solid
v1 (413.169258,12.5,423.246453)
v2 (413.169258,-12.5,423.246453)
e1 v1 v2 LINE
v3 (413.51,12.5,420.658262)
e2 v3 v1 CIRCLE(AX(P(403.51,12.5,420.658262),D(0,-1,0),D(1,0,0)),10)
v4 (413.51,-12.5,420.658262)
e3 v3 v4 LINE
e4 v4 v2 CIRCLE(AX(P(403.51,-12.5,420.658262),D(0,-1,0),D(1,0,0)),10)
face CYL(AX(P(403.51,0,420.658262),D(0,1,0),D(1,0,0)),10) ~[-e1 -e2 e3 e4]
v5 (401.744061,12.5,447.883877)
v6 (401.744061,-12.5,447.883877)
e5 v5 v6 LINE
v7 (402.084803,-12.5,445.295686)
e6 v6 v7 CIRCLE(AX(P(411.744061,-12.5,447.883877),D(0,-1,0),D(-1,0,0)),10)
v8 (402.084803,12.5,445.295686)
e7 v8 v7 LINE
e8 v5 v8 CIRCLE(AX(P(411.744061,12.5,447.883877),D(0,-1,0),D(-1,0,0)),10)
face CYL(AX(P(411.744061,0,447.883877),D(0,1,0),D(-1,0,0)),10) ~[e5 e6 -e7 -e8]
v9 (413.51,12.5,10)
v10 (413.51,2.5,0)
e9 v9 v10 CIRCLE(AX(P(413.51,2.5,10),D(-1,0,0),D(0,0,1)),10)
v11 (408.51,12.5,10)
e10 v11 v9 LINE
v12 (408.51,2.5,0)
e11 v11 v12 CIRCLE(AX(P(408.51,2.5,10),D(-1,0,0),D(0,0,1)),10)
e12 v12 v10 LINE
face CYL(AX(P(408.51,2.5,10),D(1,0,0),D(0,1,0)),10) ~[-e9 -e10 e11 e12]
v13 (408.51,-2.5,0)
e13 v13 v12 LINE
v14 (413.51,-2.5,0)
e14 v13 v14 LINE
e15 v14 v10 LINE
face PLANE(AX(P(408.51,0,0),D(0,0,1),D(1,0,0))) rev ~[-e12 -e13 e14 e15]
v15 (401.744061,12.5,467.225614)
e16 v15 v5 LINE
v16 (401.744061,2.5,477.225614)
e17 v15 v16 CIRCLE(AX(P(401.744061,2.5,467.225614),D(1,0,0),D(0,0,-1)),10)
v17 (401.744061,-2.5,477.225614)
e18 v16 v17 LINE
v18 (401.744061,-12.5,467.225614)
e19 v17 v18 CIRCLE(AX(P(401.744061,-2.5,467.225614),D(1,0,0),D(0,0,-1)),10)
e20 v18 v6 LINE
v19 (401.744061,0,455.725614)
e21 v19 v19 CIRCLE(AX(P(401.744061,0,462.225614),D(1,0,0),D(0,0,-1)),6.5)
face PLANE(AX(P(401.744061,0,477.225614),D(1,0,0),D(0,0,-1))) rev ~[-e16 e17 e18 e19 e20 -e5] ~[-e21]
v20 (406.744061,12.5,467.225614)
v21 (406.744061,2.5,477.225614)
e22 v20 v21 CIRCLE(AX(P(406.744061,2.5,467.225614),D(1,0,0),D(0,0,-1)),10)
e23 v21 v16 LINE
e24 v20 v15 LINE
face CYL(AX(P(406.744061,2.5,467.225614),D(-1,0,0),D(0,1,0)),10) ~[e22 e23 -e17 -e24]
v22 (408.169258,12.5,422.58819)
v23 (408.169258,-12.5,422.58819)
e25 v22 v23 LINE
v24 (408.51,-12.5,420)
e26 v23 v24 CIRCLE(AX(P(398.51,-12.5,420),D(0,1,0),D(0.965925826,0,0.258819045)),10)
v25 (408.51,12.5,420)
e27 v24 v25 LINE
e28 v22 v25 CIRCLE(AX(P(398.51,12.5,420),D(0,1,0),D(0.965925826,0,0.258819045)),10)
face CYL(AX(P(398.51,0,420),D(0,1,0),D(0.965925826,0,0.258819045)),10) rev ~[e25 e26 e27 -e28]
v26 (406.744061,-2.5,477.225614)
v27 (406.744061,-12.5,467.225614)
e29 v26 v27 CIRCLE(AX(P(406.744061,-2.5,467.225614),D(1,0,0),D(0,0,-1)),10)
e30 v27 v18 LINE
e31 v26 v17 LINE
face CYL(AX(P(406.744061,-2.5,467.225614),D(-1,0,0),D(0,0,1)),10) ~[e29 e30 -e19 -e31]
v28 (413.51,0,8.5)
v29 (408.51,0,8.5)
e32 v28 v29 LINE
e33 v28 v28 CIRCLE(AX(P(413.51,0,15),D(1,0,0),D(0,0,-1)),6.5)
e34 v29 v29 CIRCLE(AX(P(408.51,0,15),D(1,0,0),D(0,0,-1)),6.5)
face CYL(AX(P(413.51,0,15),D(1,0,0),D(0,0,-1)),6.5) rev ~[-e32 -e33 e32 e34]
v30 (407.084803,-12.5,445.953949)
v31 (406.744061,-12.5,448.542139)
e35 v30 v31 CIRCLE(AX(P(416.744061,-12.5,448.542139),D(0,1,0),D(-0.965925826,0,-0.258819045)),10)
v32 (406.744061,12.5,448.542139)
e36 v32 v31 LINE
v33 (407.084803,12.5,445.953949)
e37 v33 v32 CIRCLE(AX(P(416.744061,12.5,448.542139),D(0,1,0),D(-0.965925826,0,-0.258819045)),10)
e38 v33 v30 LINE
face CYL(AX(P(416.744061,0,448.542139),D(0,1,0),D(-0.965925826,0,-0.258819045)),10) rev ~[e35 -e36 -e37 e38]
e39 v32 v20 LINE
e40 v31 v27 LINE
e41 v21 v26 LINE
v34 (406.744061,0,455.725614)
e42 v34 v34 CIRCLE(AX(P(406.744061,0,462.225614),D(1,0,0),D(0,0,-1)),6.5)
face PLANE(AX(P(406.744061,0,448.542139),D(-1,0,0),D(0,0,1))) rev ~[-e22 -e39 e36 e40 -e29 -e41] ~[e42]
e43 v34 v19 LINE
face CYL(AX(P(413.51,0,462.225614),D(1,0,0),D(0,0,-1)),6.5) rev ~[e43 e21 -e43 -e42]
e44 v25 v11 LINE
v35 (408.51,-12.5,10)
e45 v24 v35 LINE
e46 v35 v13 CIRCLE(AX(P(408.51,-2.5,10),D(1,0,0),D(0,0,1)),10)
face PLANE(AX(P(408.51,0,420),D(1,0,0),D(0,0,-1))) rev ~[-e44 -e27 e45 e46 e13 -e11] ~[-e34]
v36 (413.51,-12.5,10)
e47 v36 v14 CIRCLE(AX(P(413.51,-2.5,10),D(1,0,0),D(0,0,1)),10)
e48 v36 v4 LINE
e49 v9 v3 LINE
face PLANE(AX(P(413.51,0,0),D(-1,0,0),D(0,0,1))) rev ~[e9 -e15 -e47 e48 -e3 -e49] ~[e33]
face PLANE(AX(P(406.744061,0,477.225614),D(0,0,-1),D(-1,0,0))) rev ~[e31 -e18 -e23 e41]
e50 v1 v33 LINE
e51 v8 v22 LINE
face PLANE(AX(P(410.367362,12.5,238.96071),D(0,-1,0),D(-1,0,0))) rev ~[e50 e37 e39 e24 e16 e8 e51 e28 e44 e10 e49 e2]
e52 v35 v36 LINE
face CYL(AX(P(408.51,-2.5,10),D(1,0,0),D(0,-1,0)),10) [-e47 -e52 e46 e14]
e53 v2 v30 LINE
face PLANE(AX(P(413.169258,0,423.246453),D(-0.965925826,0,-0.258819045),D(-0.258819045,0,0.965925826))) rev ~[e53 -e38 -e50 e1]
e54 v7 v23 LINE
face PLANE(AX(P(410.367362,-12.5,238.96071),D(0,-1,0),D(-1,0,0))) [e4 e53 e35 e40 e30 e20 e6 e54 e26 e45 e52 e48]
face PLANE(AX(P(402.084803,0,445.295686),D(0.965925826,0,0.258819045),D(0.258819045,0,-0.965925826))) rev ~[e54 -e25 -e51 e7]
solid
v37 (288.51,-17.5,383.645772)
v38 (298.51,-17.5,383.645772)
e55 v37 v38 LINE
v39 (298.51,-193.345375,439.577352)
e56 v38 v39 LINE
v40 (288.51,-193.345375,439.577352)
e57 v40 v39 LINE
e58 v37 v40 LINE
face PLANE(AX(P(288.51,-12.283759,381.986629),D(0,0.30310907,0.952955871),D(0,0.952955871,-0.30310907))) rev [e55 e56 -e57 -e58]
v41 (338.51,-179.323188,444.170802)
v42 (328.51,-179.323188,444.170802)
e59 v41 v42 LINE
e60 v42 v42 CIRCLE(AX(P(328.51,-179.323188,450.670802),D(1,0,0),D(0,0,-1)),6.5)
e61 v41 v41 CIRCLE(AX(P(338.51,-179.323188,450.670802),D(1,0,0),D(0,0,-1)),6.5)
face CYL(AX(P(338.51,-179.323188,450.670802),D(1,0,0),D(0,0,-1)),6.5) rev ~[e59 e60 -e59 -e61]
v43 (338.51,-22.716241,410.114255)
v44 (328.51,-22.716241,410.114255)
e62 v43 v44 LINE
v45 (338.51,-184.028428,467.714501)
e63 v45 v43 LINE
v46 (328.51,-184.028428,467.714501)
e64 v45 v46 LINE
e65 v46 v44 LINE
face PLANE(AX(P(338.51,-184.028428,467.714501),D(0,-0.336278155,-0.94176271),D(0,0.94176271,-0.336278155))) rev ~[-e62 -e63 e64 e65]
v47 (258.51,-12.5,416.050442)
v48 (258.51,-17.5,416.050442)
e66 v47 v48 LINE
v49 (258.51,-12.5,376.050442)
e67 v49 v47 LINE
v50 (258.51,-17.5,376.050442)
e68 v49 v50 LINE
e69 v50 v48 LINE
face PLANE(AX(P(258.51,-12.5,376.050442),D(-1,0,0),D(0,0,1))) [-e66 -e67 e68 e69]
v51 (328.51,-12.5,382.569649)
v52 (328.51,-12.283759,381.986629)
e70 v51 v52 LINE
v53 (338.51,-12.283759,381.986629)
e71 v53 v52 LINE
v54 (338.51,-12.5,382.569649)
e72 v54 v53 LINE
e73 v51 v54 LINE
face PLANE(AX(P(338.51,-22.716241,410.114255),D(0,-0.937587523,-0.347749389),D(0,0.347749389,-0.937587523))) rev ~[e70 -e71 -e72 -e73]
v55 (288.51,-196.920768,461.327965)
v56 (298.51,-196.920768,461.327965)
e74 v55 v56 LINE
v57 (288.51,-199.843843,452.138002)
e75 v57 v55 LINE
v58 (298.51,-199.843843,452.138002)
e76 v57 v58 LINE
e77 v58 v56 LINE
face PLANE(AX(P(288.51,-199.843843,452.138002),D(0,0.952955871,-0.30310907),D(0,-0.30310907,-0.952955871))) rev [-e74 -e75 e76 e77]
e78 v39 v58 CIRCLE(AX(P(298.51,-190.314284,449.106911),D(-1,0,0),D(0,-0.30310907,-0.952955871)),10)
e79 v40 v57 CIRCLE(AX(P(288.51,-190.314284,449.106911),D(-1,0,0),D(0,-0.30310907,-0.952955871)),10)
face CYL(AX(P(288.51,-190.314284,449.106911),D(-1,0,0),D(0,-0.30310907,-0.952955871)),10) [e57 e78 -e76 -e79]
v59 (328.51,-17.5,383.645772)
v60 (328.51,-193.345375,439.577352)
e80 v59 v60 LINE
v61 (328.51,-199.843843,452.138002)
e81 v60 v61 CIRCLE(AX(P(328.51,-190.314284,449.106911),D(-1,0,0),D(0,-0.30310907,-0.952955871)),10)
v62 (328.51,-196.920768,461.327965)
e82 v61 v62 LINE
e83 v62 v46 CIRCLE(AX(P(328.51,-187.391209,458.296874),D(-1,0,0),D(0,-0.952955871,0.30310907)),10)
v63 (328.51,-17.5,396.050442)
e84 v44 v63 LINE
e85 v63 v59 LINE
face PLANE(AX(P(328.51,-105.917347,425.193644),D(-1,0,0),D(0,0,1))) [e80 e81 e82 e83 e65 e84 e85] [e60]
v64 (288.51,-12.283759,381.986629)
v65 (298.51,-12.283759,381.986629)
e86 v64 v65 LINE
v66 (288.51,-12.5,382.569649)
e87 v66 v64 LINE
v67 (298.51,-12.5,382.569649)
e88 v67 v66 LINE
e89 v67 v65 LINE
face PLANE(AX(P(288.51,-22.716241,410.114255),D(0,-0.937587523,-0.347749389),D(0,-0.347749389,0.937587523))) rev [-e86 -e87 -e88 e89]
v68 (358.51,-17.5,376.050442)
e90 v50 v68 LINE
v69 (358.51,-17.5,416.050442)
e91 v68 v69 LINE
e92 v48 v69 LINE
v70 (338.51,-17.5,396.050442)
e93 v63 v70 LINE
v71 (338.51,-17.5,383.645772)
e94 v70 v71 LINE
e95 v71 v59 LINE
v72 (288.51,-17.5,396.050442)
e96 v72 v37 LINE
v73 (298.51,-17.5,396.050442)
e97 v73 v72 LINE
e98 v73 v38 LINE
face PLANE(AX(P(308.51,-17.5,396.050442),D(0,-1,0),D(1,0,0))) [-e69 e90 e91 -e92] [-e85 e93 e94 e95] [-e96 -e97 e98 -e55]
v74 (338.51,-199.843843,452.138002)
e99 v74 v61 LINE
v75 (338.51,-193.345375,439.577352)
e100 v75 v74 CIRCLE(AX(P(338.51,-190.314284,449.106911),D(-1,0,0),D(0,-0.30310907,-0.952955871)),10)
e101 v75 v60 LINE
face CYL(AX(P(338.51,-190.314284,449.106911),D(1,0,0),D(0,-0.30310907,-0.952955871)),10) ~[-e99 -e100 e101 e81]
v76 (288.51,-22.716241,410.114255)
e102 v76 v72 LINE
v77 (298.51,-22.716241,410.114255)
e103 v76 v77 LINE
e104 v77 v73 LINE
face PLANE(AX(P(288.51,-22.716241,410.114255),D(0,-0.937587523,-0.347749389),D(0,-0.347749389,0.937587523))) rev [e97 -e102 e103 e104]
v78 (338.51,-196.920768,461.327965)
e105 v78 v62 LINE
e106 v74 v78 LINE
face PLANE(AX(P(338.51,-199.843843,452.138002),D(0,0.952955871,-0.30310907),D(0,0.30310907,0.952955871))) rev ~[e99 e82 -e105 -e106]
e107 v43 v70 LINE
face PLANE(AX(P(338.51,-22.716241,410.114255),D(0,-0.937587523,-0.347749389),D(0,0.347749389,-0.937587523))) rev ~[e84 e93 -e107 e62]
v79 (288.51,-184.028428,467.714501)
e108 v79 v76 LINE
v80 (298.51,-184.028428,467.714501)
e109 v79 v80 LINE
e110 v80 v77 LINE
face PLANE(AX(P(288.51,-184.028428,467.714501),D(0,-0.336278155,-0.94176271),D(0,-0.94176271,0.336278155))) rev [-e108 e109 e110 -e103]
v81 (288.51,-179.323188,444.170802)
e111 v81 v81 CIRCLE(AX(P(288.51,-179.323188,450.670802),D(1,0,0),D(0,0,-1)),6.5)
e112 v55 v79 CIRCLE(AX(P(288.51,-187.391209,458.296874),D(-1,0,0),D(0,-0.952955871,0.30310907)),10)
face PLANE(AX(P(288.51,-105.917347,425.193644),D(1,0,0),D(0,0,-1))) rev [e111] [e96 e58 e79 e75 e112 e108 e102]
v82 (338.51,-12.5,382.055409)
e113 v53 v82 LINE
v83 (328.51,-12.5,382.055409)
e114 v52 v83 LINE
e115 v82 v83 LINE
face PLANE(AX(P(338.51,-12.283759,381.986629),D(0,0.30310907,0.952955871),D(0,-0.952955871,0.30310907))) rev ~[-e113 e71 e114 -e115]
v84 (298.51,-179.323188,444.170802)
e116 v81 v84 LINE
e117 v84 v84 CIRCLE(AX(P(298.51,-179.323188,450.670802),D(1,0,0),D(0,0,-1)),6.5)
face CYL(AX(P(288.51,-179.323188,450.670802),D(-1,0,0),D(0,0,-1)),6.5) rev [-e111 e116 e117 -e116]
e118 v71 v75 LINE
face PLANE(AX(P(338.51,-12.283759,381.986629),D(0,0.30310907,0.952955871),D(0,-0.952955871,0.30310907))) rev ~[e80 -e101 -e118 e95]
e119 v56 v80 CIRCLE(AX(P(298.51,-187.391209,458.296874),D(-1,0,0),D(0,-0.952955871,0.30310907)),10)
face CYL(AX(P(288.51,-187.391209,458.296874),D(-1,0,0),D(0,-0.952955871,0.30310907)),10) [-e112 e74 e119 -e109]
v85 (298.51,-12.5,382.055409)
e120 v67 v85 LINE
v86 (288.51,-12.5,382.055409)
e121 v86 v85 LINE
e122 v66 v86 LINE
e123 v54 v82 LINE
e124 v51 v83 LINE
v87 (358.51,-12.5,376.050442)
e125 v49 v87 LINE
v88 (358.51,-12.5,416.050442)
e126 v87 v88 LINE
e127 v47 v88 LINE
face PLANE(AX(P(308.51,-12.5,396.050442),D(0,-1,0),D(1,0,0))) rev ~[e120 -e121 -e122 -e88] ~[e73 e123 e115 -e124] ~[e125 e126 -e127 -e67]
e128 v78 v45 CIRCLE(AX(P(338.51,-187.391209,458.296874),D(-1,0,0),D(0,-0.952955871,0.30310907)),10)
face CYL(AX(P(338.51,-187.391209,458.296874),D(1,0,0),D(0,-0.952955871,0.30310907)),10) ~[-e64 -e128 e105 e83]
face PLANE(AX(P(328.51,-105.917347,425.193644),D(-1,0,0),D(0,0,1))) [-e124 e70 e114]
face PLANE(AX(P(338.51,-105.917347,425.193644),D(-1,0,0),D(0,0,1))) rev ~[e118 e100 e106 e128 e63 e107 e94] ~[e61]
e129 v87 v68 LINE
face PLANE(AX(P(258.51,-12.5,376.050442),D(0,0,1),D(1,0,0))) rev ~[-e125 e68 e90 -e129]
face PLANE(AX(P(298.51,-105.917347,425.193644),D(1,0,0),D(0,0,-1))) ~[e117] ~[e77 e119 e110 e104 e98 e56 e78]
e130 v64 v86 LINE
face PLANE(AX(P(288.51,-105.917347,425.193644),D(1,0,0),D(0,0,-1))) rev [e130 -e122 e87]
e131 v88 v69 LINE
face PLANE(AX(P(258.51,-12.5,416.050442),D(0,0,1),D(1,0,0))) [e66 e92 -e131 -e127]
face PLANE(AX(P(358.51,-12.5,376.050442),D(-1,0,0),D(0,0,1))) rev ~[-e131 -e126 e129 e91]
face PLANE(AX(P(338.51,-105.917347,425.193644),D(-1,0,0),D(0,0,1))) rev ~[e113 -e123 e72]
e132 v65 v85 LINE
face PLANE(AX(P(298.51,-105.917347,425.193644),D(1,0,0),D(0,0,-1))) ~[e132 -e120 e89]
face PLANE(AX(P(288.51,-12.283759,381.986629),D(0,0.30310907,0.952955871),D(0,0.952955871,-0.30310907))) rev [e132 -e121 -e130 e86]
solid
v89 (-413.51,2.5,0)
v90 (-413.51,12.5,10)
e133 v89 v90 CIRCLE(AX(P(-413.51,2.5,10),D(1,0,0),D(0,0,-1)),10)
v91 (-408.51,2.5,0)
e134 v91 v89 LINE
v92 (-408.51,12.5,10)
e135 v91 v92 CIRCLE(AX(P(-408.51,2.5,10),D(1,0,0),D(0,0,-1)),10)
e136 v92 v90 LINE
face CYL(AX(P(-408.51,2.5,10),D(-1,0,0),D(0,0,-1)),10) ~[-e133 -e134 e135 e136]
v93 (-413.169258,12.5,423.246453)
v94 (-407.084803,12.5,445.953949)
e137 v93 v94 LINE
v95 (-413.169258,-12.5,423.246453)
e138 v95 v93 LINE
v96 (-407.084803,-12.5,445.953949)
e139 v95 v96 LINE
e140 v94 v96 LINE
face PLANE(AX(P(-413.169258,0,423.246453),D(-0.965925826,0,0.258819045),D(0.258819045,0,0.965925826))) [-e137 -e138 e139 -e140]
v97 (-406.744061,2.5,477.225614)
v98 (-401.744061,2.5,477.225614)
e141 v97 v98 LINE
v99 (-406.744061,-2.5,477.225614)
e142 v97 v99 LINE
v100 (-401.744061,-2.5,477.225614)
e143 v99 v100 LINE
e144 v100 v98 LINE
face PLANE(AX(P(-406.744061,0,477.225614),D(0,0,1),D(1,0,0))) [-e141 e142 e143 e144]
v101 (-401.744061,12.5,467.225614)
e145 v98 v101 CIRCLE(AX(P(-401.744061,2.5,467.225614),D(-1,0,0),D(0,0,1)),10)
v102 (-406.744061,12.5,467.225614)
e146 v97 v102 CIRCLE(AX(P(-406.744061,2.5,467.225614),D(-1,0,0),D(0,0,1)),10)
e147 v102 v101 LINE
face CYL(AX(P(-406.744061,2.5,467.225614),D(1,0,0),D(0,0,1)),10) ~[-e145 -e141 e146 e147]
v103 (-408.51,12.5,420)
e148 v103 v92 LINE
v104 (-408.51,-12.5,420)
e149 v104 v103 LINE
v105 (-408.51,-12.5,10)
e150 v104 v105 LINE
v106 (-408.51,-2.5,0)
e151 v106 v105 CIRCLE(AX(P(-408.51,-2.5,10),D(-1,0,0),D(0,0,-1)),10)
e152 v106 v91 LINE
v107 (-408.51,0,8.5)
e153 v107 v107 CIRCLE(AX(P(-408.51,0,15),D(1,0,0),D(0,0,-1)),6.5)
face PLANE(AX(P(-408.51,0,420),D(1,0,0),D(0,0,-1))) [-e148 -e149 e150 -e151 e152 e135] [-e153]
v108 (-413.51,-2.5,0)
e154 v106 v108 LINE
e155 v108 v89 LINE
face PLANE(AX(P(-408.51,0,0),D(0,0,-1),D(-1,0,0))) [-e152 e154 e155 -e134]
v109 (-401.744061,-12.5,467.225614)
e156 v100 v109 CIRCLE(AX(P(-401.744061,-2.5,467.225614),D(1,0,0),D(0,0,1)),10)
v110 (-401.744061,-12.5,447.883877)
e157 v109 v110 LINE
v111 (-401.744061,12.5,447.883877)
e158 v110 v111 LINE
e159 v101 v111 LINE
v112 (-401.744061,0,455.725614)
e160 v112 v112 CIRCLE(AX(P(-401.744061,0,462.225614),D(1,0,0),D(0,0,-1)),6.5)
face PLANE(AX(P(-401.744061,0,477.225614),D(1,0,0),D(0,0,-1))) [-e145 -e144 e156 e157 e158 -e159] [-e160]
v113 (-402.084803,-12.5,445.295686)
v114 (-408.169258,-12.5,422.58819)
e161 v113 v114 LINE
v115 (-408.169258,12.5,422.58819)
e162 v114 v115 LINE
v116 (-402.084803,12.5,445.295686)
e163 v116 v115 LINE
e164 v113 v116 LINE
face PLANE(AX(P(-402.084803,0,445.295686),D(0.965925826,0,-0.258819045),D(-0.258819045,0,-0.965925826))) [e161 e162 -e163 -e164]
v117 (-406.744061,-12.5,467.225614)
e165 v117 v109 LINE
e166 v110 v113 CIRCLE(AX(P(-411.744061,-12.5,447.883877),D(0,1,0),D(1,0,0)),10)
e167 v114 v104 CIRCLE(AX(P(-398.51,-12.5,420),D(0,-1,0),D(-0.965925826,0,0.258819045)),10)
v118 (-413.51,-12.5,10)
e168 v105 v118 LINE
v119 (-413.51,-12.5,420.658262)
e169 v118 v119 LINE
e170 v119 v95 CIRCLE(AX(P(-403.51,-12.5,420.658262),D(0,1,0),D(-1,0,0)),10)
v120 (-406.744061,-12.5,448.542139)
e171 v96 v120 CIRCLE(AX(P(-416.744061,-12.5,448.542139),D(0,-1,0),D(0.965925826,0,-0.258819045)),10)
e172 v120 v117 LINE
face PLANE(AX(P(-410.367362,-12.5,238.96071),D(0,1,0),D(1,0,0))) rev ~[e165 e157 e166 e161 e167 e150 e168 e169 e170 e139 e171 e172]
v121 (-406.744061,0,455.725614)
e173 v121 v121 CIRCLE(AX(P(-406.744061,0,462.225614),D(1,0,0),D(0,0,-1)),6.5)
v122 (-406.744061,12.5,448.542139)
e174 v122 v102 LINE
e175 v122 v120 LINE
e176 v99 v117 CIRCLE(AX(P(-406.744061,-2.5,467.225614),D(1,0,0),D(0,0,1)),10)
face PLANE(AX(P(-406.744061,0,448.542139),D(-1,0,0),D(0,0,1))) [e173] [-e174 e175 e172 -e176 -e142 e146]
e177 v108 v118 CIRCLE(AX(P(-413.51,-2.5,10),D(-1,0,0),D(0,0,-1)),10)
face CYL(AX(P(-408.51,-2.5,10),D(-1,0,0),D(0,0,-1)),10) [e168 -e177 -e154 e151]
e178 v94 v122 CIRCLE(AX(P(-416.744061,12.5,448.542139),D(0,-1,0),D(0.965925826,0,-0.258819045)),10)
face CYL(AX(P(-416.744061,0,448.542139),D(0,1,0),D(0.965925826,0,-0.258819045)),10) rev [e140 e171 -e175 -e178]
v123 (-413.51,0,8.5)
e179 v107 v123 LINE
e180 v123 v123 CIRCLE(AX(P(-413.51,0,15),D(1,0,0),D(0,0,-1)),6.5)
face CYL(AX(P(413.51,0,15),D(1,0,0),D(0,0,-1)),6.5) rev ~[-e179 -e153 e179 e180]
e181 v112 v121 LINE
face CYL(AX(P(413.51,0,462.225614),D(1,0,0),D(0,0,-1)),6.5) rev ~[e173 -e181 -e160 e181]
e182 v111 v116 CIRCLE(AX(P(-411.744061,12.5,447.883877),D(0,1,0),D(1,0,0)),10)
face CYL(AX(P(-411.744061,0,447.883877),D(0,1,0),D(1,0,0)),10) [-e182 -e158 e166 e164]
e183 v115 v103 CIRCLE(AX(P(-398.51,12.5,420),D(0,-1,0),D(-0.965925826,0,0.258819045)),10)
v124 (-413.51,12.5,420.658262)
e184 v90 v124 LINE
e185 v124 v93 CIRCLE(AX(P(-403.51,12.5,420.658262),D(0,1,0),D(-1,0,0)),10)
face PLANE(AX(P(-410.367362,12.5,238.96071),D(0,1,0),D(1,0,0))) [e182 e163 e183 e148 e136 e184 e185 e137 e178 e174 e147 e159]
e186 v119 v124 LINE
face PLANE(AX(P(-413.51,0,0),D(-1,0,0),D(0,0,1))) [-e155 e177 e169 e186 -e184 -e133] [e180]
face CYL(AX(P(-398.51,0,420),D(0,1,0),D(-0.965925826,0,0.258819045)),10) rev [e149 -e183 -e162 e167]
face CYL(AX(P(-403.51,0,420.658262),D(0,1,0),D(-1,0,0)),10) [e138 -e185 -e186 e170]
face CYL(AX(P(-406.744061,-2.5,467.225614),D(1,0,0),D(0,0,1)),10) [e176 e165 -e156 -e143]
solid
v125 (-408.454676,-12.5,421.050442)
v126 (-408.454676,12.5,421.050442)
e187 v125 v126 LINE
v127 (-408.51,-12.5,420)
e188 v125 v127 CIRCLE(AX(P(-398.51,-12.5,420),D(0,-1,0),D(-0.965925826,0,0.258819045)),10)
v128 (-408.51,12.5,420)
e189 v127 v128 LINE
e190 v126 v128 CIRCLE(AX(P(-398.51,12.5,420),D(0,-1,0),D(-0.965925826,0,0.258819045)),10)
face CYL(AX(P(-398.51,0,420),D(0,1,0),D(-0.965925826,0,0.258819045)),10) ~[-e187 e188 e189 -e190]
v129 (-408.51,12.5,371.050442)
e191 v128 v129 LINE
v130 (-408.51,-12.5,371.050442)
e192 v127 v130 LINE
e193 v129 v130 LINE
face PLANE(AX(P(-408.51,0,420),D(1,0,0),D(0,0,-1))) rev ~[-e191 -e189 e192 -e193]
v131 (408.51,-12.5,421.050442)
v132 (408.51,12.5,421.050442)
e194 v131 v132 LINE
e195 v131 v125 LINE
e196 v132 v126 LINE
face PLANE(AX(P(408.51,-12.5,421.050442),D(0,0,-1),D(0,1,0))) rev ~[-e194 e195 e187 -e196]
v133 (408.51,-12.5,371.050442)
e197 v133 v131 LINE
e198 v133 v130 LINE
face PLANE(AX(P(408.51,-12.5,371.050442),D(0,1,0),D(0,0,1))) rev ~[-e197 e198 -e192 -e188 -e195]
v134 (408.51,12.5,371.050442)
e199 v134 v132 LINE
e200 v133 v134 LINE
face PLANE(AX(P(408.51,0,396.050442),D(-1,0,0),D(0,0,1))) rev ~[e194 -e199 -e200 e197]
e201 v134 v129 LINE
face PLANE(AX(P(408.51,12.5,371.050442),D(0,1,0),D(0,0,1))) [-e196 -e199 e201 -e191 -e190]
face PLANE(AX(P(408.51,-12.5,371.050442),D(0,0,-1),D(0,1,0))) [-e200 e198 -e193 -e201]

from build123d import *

# Parameters (mm, degrees)
BOSS_EXTRUDE1_DEPTH   = 12.5
BOSS_EXTRUDE1_2_DEPTH = 12.5
FILLET1_R             = 10
FILLET2_R             = 10
SKETCH2_R             = 6.5
CUT_EXTRUDE1_DEPTH    = 869
BOSS_EXTRUDE2_REACH   = 952.588
SKETCH8_W             = 50
SKETCH8_H             = 25
SKETCH9_W             = 100
SKETCH9_H             = 40
BOSS_EXTRUDE3_DEPTH   = 5
SKETCH23_R            = 6.5
BOSS_EXTRUDE4_DEPTH   = 10


with BuildPart() as part:
    # Sketch1 → Boss-Extrude1 (new, symmetric)
    with BuildSketch(Plane(origin=(0, 0, 0), x_dir=(1, 0, 0), z_dir=(0, 1, 0))):
        with BuildLine():
            Line((413.51, 0), (413.51, -420.658262488))
            ThreePointArc((413.51, -420.658262488), (413.424448614, -421.96352441), (413.169258263, -423.246452939))
            Line((413.169258263, -423.246452939), (407.084803077, -445.953948828))
            ThreePointArc((407.084803077, -445.953948828), (406.829612726, -447.236877357), (406.74406134, -448.542139279))
            Line((406.74406134, -448.542139279), (406.74406134, -477.225614303))
            Line((406.74406134, -477.225614303), (401.74406134, -477.225614303))
            Line((401.74406134, -477.225614303), (401.74406134, -447.883876791))
            ThreePointArc((401.74406134, -447.883876791), (401.829612726, -446.578614869), (402.084803077, -445.29568634))
            Line((402.084803077, -445.29568634), (408.169258263, -422.588190451))
            ThreePointArc((408.169258263, -422.588190451), (408.424448614, -421.305261922), (408.51, -420))
            Line((408.51, -420), (408.51, 0))
            Line((408.51, 0), (413.51, 0))
        make_face()
    extrude(amount=BOSS_EXTRUDE1_DEPTH, both=True)

    # Fillet2
    fillet2_edges = [part.edges().sort_by_distance(p)[0] for p in [
        (404.24406134, -12.5, 477.225614303),
        (411.01, -12.5, 0),
        (404.24406134, 12.5, 477.225614303),
        (411.01, 12.5, 0),
    ]]
    fillet(fillet2_edges, radius=FILLET2_R)


with BuildPart() as body_2:
    # Sketch1 → Boss-Extrude1 2 (new, symmetric)
    with BuildSketch(Plane(origin=(0, 0, 0), x_dir=(1, 0, 0), z_dir=(0, 1, 0))):
        with BuildLine():
            Line((-406.74406134, -477.225614303), (-401.74406134, -477.225614303))
            Line((-401.74406134, -477.225614303), (-401.74406134, -447.883876791))
            ThreePointArc((-401.74406134, -447.883876791), (-401.829612726, -446.578614869), (-402.084803077, -445.29568634))
            Line((-402.084803077, -445.29568634), (-408.169258263, -422.588190451))
            ThreePointArc((-408.169258263, -422.588190451), (-408.424448614, -421.305261922), (-408.51, -420))
            Line((-408.51, -420), (-408.51, 0))
            Line((-408.51, 0), (-413.51, 0))
            Line((-413.51, 0), (-413.51, -420.658262488))
            ThreePointArc((-413.51, -420.658262488), (-413.424448614, -421.96352441), (-413.169258263, -423.246452939))
            Line((-413.169258263, -423.246452939), (-407.084803077, -445.953948828))
            ThreePointArc((-407.084803077, -445.953948828), (-406.829612726, -447.236877357), (-406.74406134, -448.542139279))
            Line((-406.74406134, -448.542139279), (-406.74406134, -477.225614303))
        make_face()
    extrude(amount=BOSS_EXTRUDE1_2_DEPTH, both=True)

    # Fillet1
    fillet1_edges = [body_2.edges().sort_by_distance(p)[0] for p in [
        (-411.01, -12.5, 0),
        (-404.24406134, -12.5, 477.225614303),
        (-404.24406134, 12.5, 477.225614303),
        (-411.01, 12.5, 0),
    ]]
    fillet(fillet1_edges, radius=FILLET1_R)


with BuildPart() as cut_extrude1_tool:
    # Sketch2 → Cut-Extrude1 (new body)
    with BuildSketch(Plane(origin=(413.51, 0, 0), x_dir=(0, 0, -1), z_dir=(1, 0, 0))):
        with Locations((-462.225614303, 0)):
            Circle(SKETCH2_R)
        with Locations((-15, 0)):
            Circle(SKETCH2_R)
    extrude(amount=-CUT_EXTRUDE1_DEPTH)


with BuildPart() as part_1:
    add(part.part)

    # Cut-Extrude1: cut by cut_extrude1_tool
    add(cut_extrude1_tool.part, mode=Mode.SUBTRACT)


with BuildPart() as body_2_1:
    add(body_2.part)

    # Cut-Extrude1: cut by cut_extrude1_tool
    add(cut_extrude1_tool.part, mode=Mode.SUBTRACT)


with BuildPart() as body_3:

    # Sketch8 → Boss-Extrude2 (new, up to next)
    with BuildSketch(Plane.ZY.offset(-408.51), mode=Mode.PRIVATE) as boss_extrude2_sk1:
        with Locations((396.050441787, 0)):
            Rectangle(SKETCH8_W, SKETCH8_H)
    boss_extrude2_tool1 = extrude(boss_extrude2_sk1.sketch, amount=BOSS_EXTRUDE2_REACH, mode=Mode.PRIVATE) - body_2_1.part
    add(boss_extrude2_tool1.solids().sort_by_distance((408.51, 0, 396.050442))[0])


with BuildPart() as body_4:
    # Sketch9 → Boss-Extrude3 (new body)
    with BuildSketch(Plane.XZ.offset(12.5)):
        with Locations((308.51, 396.050441787)):
            Rectangle(SKETCH9_W, SKETCH9_H)
    extrude(amount=BOSS_EXTRUDE3_DEPTH)

    # Sketch23 → Boss-Extrude4 (add)
    with BuildSketch(Plane(origin=(338.51, 0, 0), x_dir=(0, 0, -1), z_dir=(1, 0, 0))):
        with BuildLine():
            Line((-410.114254625, -22.716240837), (-381.986628949, -12.283759163))
            Line((-381.986628949, -12.283759163), (-439.577352288, -193.345374602))
            ThreePointArc((-439.577352288, -193.345374602), (-444.511800202, -199.196004274), (-452.138001698, -199.843842607))
            Line((-452.138001698, -199.843842607), (-461.32796509, -196.920767841))
            ThreePointArc((-461.32796509, -196.920767841), (-467.257664146, -191.830155733), (-467.714501489, -184.028427581))
            Line((-467.714501489, -184.028427581), (-410.114254625, -22.716240837))
        make_face()
        with Locations((-450.67080199, -179.32318781)):
            Circle(SKETCH23_R, mode=Mode.SUBTRACT)
    boss_extrude4 = extrude(amount=-BOSS_EXTRUDE4_DEPTH)

    # Mirror1: Boss-Extrude4 across plane
    add(boss_extrude4.mirror(Plane(origin=(313.51, 0, 0), x_dir=(0, 0, 1), z_dir=(1, 0, 0))))


solid = Compound([part_1.part, body_2_1.part, body_3.part, body_4.part])
